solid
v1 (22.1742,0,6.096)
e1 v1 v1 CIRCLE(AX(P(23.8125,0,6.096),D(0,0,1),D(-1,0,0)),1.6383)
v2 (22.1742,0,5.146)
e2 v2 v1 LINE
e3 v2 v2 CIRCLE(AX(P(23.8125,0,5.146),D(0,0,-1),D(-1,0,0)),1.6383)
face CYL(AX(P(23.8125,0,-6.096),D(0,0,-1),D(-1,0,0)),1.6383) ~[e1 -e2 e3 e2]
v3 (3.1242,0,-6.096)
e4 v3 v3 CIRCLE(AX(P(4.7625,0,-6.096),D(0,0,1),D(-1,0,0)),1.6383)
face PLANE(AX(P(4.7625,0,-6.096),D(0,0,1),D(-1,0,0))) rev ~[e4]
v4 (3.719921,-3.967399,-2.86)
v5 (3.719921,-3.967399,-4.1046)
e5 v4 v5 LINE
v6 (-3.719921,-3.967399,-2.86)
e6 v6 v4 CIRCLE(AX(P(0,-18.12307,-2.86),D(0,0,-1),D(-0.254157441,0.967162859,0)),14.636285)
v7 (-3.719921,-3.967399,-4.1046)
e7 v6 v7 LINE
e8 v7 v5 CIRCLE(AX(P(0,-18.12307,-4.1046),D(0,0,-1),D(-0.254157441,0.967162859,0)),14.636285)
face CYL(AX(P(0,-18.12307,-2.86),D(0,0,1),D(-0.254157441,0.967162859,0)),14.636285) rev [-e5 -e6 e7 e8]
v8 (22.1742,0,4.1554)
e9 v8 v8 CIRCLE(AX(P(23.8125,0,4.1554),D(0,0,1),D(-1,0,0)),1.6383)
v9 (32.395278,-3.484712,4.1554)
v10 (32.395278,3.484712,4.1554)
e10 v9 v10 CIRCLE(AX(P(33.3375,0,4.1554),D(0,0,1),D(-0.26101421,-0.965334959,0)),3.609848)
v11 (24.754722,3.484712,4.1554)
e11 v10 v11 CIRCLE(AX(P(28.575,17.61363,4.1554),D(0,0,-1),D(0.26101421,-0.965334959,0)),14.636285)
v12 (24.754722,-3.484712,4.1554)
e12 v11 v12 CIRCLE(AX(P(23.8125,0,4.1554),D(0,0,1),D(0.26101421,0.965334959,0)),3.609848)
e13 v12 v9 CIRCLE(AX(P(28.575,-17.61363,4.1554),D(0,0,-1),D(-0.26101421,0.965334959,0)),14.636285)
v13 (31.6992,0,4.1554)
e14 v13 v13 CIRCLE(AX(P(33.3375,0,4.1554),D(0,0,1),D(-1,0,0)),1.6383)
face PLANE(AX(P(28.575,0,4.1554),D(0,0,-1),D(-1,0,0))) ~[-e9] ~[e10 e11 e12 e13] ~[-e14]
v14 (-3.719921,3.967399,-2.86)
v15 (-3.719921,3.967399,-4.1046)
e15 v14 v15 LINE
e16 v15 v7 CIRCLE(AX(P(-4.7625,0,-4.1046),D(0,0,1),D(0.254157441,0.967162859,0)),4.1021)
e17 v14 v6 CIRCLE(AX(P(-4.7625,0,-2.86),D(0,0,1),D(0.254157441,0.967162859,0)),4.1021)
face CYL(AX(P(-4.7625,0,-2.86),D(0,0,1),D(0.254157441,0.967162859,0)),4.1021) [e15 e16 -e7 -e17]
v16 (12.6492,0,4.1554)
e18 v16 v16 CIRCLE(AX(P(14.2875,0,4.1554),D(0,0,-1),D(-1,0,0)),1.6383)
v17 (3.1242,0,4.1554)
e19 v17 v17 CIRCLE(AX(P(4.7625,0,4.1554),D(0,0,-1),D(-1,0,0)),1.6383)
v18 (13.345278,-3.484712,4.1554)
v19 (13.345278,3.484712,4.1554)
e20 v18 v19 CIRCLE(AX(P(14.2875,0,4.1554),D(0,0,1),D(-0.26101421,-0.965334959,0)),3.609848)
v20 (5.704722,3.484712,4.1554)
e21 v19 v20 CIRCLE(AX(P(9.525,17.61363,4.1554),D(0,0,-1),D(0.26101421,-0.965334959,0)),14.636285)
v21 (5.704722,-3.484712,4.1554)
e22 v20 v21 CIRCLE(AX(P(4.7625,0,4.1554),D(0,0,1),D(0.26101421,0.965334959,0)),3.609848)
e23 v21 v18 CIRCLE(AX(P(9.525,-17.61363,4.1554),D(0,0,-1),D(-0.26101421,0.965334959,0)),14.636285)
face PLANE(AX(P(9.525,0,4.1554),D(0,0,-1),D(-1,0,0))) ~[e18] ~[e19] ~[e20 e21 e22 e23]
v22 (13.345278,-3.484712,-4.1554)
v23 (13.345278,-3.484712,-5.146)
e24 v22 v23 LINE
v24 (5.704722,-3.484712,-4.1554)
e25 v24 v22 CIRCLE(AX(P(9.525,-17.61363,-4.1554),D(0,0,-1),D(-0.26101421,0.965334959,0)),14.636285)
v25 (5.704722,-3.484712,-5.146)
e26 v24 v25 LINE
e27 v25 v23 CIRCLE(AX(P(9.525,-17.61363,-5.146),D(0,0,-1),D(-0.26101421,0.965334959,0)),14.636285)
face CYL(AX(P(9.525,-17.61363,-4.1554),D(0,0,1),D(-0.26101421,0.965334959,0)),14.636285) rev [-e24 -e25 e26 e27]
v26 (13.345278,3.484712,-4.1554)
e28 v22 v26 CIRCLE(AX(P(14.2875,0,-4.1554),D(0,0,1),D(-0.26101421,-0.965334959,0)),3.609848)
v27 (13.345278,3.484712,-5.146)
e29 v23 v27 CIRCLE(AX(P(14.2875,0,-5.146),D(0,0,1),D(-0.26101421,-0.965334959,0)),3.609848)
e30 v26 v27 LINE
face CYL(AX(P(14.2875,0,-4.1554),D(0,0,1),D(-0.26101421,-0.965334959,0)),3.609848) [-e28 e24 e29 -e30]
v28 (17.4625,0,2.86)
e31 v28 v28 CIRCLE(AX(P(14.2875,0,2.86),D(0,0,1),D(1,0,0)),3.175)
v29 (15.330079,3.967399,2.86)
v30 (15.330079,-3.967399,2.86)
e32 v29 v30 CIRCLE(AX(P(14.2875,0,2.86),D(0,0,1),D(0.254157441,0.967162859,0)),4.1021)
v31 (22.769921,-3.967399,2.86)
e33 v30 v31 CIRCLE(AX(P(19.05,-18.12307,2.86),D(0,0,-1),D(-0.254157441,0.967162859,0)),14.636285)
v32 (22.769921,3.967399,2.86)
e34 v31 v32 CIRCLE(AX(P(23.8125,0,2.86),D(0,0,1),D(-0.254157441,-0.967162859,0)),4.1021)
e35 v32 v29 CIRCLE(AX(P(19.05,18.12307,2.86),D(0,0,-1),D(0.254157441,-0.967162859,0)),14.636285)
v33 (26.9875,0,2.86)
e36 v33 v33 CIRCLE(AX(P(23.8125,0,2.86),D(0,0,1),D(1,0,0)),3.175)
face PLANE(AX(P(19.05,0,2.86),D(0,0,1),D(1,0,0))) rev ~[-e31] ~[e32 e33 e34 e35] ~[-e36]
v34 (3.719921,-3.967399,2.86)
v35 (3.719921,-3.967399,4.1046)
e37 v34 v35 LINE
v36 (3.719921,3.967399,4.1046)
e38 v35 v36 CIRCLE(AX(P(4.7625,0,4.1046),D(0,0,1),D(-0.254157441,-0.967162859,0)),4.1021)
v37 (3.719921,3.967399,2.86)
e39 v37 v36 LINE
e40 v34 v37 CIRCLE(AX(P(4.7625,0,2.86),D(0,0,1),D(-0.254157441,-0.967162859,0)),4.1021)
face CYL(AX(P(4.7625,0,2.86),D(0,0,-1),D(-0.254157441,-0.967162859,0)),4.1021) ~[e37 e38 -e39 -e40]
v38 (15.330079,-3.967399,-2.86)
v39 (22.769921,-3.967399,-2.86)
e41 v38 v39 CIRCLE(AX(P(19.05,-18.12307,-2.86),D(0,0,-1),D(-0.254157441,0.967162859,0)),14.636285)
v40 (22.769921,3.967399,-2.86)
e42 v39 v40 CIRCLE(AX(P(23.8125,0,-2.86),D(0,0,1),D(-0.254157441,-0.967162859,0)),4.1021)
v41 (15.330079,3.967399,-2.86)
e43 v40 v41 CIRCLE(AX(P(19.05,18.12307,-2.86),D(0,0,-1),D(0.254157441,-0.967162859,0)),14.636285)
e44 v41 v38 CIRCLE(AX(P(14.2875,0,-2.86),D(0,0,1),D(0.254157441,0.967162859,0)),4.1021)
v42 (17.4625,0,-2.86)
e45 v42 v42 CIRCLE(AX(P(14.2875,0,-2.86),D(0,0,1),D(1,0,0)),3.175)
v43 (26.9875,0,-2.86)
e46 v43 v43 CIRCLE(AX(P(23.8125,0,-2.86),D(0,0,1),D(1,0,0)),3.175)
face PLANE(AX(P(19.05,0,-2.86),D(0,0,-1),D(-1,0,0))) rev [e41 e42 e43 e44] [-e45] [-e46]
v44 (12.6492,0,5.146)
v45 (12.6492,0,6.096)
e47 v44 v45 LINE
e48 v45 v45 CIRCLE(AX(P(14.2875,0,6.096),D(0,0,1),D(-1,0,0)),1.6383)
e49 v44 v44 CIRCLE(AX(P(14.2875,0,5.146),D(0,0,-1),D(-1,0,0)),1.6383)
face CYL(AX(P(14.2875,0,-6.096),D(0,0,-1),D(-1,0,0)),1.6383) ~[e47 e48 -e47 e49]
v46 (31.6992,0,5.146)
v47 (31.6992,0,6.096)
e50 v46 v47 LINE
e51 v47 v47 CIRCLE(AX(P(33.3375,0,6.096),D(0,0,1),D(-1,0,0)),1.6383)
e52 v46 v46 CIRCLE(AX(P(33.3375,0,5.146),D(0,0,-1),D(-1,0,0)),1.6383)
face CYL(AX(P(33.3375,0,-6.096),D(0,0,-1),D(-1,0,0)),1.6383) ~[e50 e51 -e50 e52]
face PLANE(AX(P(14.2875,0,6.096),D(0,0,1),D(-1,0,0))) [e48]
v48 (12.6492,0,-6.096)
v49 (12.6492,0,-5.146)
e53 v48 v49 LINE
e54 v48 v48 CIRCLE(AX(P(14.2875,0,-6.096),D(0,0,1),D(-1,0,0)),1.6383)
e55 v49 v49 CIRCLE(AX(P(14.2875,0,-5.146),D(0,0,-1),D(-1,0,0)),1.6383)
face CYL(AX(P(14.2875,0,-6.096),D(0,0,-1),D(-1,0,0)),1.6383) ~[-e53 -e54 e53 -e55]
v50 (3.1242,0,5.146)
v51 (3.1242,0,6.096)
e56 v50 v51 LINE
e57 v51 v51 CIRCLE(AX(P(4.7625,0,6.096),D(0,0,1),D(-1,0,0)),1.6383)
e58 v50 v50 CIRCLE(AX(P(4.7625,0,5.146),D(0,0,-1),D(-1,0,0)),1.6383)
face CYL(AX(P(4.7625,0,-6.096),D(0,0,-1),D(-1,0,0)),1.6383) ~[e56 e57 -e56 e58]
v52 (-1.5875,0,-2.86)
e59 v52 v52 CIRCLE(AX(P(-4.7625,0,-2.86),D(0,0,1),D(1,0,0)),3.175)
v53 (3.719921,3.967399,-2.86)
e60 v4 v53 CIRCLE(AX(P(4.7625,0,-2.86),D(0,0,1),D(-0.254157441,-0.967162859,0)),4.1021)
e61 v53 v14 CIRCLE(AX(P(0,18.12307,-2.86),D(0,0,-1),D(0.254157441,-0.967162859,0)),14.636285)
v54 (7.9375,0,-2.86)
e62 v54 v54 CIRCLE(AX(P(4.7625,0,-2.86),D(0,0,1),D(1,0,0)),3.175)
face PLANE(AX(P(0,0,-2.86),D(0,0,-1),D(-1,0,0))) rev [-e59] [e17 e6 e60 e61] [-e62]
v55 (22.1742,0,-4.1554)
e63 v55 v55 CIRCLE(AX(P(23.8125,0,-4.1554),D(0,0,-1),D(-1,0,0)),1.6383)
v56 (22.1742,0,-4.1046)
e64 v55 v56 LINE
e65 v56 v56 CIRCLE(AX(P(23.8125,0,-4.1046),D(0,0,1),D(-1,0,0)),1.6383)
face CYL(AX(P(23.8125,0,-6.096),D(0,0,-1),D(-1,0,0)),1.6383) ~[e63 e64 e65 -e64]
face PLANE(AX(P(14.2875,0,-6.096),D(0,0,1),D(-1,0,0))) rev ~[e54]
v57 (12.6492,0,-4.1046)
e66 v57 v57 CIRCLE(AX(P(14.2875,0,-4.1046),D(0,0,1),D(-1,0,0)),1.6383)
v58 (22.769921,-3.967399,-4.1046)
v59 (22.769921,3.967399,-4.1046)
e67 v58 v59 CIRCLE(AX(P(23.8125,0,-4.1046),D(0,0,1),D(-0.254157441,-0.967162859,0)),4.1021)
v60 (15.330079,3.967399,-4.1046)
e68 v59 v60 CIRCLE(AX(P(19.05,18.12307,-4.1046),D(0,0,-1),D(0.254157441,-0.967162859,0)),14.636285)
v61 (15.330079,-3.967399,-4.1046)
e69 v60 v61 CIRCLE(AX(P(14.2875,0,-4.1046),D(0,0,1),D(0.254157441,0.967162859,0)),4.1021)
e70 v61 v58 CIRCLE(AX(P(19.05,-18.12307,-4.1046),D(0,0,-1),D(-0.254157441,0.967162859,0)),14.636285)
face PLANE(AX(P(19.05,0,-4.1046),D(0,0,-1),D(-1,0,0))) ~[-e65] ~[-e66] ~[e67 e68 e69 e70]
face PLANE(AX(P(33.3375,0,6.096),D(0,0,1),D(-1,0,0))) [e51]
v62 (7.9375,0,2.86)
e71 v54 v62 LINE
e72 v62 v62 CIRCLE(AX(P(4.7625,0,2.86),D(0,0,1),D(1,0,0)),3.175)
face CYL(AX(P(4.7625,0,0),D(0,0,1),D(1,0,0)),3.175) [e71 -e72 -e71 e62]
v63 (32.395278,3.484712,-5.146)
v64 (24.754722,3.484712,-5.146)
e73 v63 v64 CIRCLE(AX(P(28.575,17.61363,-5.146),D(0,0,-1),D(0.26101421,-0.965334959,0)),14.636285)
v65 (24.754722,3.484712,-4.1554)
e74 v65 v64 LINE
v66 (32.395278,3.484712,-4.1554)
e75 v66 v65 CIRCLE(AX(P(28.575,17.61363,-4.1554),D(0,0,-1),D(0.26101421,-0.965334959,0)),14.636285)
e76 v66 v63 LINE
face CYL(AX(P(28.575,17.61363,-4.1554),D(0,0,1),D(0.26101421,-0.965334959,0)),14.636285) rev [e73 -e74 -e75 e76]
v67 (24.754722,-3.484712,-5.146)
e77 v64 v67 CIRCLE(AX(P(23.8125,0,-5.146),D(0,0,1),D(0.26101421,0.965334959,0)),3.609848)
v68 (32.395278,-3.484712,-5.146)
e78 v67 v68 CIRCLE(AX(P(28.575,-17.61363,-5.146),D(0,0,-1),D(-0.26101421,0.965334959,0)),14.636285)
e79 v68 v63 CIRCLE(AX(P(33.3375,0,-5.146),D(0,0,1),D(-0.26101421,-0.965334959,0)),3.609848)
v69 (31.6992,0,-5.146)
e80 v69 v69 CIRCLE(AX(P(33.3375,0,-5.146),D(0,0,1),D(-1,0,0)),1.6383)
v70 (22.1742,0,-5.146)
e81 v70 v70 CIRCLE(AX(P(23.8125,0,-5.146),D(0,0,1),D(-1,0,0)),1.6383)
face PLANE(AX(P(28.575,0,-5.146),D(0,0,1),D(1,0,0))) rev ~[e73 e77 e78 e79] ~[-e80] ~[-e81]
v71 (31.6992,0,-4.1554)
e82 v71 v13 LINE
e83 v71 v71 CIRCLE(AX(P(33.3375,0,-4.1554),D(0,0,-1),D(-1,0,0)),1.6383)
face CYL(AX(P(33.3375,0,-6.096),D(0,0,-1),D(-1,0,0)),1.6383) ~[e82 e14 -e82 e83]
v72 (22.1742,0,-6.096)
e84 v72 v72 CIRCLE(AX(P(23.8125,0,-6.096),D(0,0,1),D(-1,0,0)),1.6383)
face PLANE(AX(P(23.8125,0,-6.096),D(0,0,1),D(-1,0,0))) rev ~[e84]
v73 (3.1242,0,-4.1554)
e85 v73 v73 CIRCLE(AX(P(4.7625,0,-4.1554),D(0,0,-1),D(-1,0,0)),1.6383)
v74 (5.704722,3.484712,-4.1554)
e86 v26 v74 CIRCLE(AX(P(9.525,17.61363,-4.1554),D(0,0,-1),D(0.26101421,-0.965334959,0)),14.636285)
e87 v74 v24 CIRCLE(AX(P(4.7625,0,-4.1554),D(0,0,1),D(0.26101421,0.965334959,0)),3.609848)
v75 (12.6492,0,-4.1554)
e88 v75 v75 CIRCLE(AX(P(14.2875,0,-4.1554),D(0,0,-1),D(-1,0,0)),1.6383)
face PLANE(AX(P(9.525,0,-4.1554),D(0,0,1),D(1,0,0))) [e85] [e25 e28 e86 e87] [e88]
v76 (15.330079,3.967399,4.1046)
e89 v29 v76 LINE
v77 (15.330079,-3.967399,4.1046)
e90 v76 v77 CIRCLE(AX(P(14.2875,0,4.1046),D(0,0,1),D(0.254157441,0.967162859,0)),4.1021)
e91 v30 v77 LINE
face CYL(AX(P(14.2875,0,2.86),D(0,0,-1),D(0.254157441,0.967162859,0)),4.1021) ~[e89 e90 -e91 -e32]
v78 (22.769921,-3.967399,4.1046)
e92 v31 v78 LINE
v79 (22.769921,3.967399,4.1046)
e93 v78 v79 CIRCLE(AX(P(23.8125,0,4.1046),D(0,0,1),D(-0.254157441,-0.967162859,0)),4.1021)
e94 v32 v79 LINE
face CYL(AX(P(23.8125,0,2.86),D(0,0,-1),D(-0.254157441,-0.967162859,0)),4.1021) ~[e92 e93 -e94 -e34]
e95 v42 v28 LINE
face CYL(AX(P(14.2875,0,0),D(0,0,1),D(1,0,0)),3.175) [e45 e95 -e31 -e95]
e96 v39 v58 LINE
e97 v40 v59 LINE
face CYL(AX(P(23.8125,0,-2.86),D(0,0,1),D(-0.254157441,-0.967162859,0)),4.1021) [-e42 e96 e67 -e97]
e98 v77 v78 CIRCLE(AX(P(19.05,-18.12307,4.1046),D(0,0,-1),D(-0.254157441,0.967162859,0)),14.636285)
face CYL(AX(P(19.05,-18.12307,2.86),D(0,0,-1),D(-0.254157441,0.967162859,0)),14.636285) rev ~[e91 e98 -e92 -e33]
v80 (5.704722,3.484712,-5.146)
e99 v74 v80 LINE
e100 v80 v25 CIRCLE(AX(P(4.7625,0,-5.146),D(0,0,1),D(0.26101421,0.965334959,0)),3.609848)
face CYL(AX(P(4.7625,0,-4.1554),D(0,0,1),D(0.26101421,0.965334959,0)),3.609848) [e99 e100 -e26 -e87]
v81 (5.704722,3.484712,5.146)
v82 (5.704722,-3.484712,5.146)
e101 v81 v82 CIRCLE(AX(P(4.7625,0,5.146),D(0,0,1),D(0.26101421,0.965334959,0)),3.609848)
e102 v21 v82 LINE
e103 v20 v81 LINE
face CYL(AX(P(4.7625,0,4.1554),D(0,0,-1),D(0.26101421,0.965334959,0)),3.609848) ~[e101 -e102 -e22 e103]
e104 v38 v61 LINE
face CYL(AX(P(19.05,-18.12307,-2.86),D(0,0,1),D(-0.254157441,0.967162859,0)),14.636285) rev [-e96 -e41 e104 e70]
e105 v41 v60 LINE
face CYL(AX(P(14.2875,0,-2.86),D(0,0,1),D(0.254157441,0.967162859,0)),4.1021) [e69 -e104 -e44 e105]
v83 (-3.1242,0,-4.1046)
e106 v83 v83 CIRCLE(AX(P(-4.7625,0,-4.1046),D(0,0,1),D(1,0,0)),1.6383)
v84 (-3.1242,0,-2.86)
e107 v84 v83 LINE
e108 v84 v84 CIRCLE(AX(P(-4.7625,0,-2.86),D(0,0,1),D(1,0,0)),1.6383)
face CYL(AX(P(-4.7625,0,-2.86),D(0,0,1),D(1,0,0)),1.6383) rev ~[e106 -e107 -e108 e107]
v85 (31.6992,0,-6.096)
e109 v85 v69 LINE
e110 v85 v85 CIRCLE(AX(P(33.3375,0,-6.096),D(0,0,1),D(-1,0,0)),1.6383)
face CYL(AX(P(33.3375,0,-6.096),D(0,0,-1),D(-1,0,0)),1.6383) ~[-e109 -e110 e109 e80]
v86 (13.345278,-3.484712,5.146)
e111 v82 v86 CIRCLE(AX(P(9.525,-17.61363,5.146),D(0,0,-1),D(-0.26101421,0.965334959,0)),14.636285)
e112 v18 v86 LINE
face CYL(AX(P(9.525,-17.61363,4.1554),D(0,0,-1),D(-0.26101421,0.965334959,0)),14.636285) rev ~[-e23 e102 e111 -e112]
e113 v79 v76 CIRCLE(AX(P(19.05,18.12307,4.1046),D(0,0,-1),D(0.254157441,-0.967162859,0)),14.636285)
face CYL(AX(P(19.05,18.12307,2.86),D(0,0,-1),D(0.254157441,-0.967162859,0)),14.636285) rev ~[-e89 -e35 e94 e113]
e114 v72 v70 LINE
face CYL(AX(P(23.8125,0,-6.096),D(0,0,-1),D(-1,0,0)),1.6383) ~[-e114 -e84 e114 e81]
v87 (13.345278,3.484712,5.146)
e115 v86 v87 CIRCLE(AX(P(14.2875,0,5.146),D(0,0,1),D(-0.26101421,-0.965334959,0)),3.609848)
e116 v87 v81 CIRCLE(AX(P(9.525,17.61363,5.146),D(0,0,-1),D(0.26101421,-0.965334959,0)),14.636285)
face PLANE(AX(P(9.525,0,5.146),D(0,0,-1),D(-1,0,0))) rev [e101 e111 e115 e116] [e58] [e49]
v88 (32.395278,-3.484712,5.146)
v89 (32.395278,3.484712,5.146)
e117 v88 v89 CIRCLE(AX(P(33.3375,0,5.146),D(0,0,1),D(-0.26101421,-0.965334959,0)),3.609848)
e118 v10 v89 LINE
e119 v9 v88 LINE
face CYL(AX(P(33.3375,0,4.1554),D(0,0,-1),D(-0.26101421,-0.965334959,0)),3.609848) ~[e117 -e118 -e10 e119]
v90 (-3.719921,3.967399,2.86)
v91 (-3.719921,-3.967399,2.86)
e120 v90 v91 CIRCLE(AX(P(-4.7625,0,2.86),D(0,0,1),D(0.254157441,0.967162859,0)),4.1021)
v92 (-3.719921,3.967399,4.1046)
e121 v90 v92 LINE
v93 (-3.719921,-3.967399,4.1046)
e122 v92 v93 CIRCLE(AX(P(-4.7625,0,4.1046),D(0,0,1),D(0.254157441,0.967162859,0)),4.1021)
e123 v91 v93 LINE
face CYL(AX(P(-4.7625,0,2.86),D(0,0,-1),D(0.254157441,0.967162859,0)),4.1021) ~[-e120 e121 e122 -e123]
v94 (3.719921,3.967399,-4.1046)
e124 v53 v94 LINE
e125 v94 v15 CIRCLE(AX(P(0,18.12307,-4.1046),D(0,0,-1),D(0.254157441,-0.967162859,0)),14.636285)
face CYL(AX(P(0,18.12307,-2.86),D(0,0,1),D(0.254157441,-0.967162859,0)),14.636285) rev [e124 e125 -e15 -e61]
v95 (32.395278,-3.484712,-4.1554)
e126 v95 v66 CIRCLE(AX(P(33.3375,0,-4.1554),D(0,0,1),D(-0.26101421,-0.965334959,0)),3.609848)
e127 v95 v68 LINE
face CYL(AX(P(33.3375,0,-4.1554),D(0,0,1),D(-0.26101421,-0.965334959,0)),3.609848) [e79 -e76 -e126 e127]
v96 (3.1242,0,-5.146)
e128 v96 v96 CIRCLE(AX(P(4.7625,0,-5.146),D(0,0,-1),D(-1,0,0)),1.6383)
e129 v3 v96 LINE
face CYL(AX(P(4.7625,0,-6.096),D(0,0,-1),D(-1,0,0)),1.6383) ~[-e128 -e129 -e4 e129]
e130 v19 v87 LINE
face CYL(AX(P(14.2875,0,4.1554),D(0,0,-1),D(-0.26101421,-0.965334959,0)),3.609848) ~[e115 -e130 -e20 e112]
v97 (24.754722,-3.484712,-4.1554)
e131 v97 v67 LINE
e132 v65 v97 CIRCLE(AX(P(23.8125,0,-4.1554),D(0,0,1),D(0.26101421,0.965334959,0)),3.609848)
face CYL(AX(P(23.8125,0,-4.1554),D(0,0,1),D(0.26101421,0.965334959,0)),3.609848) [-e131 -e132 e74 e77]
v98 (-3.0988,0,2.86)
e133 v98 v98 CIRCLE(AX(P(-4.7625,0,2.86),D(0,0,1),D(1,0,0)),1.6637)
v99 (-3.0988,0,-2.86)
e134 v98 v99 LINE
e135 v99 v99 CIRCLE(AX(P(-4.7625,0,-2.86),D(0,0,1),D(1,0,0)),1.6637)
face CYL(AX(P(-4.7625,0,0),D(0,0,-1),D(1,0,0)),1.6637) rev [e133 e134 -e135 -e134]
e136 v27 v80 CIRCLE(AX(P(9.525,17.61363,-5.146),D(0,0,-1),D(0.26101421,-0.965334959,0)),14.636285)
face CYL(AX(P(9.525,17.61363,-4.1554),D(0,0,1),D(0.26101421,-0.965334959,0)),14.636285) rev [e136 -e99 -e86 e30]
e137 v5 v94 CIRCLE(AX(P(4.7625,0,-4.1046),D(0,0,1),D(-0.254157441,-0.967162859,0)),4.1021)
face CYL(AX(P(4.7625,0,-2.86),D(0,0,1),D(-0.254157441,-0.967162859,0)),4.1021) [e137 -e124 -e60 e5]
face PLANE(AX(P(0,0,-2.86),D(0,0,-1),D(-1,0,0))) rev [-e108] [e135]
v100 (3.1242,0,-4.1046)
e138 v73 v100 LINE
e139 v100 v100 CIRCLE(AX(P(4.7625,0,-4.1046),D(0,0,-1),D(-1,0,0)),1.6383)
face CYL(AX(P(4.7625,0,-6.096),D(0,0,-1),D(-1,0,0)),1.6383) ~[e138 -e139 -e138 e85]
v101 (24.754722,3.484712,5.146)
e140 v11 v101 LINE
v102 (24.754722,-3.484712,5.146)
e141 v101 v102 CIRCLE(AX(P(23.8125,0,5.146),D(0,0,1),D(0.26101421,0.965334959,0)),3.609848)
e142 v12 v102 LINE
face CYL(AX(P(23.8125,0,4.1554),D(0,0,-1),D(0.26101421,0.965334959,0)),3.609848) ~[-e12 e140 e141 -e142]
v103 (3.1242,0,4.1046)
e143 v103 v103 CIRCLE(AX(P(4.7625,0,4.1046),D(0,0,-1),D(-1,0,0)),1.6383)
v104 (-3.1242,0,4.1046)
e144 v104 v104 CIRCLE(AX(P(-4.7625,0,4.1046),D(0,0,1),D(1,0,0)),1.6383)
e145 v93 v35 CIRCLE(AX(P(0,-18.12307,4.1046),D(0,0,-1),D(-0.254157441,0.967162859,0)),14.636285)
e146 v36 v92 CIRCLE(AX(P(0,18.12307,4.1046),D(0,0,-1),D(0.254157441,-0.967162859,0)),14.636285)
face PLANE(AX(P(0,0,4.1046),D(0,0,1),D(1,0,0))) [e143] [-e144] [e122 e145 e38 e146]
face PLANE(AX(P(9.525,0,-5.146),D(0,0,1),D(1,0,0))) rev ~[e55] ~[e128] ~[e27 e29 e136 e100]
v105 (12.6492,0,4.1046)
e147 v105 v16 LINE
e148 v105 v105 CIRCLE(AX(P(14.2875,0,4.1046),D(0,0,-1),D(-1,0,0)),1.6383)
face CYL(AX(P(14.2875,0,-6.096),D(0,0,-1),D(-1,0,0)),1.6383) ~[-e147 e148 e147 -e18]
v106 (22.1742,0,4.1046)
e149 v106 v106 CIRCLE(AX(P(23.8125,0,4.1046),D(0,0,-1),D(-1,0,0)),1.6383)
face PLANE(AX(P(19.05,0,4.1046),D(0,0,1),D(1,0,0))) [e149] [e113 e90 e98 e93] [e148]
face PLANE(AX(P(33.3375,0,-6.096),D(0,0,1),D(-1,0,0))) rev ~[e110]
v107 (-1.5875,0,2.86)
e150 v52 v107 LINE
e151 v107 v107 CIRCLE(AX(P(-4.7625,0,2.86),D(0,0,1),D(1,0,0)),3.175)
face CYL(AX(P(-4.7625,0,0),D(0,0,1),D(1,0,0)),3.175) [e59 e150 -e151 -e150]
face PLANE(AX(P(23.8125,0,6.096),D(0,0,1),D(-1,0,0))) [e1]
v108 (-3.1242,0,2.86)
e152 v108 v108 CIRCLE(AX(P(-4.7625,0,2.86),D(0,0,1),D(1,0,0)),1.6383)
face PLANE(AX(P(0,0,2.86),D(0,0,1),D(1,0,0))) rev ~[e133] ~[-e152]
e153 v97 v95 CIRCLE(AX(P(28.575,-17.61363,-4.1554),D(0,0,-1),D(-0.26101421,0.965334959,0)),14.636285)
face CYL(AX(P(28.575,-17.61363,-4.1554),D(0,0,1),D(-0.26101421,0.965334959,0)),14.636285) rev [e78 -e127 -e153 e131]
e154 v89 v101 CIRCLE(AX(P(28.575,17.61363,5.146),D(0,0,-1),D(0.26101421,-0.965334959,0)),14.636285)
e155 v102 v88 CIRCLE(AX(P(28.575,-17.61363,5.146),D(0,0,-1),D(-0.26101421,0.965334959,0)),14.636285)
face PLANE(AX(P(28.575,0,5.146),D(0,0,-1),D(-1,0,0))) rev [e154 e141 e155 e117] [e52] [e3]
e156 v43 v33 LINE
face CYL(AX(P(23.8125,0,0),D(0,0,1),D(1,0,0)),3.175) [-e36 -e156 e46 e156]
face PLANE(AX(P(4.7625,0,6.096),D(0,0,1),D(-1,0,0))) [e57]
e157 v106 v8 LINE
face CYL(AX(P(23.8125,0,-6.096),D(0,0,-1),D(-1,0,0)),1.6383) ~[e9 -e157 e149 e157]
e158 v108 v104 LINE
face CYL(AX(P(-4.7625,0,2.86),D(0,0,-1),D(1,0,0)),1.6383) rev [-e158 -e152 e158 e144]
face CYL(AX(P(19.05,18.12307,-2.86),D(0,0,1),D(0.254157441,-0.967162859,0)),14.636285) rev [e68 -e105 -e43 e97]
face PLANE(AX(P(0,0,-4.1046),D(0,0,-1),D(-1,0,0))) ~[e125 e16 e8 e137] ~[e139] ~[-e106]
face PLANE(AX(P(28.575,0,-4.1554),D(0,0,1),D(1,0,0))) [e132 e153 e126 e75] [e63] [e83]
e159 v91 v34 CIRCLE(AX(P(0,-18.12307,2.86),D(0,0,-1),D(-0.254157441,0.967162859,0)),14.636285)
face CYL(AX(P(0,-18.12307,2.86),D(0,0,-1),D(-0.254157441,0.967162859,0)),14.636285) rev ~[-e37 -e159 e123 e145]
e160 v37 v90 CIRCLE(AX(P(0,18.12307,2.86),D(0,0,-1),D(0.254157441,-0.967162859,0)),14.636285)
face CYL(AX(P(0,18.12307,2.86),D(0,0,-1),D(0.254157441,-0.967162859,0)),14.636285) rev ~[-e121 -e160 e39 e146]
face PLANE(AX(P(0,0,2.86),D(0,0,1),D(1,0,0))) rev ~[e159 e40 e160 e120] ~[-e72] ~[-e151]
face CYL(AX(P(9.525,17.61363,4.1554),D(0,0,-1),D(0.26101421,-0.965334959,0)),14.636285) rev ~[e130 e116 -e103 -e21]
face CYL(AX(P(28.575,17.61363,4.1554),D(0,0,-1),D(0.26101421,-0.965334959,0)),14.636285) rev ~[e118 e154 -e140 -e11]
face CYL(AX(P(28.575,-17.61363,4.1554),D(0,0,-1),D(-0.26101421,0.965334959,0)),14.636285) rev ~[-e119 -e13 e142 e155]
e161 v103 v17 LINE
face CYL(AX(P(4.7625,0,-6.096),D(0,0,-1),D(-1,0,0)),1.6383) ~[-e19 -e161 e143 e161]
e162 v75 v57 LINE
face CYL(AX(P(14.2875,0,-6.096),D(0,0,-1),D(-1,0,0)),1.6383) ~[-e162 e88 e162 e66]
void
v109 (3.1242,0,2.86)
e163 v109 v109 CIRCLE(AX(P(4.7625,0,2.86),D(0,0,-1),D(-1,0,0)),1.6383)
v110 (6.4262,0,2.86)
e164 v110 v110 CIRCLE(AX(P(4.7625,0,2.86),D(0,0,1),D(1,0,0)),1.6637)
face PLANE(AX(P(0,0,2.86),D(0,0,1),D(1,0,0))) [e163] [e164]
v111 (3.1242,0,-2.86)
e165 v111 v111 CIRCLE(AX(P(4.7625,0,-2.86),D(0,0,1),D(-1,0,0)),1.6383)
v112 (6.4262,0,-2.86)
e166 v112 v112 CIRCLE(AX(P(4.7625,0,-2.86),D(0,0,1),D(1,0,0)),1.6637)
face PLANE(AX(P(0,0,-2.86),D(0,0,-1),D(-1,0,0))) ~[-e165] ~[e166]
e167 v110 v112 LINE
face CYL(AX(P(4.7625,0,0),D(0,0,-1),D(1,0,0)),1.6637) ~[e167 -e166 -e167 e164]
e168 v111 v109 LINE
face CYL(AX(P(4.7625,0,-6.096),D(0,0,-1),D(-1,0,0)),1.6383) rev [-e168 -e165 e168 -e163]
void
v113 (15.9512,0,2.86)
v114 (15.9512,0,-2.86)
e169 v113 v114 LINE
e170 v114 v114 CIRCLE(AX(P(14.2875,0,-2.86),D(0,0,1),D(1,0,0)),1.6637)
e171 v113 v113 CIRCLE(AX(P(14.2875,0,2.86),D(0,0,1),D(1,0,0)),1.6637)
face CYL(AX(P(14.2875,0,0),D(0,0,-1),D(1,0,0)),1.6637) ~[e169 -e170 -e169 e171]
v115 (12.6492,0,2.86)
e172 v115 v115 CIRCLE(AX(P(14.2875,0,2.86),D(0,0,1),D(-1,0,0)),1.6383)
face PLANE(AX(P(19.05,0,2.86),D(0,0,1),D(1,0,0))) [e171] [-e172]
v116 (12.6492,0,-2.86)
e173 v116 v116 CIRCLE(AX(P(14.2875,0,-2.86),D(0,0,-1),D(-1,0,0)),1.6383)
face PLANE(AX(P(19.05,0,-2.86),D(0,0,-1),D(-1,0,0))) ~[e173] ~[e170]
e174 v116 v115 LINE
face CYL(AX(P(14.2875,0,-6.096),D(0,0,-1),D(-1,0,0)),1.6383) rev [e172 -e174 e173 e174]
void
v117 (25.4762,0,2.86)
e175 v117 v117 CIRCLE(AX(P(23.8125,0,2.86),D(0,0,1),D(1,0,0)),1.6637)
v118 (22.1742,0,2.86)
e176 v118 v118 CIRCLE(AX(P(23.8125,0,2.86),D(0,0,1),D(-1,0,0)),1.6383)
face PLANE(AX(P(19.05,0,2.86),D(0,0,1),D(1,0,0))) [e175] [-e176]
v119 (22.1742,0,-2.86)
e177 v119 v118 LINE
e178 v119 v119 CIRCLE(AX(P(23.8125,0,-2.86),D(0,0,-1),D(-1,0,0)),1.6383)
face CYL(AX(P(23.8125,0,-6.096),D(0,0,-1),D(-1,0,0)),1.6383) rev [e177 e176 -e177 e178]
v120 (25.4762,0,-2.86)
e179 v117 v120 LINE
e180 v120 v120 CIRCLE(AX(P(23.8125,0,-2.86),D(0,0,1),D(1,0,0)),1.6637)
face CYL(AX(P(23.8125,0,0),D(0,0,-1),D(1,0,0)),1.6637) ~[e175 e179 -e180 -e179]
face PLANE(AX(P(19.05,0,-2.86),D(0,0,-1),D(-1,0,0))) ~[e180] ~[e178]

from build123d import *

# Parameters (mm, degrees)
SKETCH4_R                  = 3.175
SKETCH4_R_2                = 1.6637
BOSS_EXTRUDE1_DEPTH        = 2.86
BOSS_EXTRUDE1_2_DEPTH      = 2.86
SKETCH5_R                  = 1.6383
BOSS_EXTRUDE2_DEPTH        = 1.2446
LPATTERN1_COUNT            = 2
LPATTERN1_PITCH            = 9.525
SKETCH7_R                  = 1.6383
BOSS_EXTRUDE3_DEPTH        = 0.9906
BOSS_EXTRUDE4_DEPTH        = 6.096
BOSS_EXTRUDE4_DEPTH_BACK   = 6.096
SKETCH8_R                  = 1.6383
BOSS_EXTRUDE4_2_DEPTH      = 6.096
BOSS_EXTRUDE4_2_DEPTH_BACK = 6.096
LPATTERN2_COUNT            = 2
LPATTERN2_PITCH            = 19.05


with BuildPart() as part:
    # Sketch4 → Boss-Extrude1 (new, symmetric)
    with BuildSketch(Plane.XY):
        with Locations((-4.7625, 0)):
            Circle(SKETCH4_R)
        with Locations((-4.7625, 0)):
            Circle(SKETCH4_R_2, mode=Mode.SUBTRACT)
    extrude(amount=BOSS_EXTRUDE1_DEPTH, both=True)


with BuildPart() as body_2:
    # Sketch4 → Boss-Extrude1 2 (new, symmetric)
    with BuildSketch(Plane.XY):
        with Locations((4.7625, 0)):
            Circle(SKETCH4_R)
        with Locations((4.7625, 0)):
            Circle(SKETCH4_R_2, mode=Mode.SUBTRACT)
    extrude(amount=BOSS_EXTRUDE1_2_DEPTH, both=True)


with BuildPart() as body_3:
    # Sketch5 → Boss-Extrude2 (new body)
    with BuildSketch(Plane.XY.offset(2.86)):
        with BuildLine():
            ThreePointArc((-3.71992076, 3.967398762), (-8.8646, 0), (-3.71992076, -3.967398762))
            ThreePointArc((-3.71992076, -3.967398762), (0, -3.486785), (3.71992076, -3.967398762))
            ThreePointArc((3.71992076, -3.967398762), (8.8646, 0), (3.71992076, 3.967398762))
            ThreePointArc((3.71992076, 3.967398762), (0, 3.486785), (-3.71992076, 3.967398762))
        make_face()
        with Locations((-4.7625, 0)):
            Circle(SKETCH5_R, mode=Mode.SUBTRACT)
        with Locations((4.7625, 0)):
            Circle(SKETCH5_R, mode=Mode.SUBTRACT)
    extrude(amount=BOSS_EXTRUDE2_DEPTH)


with BuildPart() as lpattern1_1:
    # LPattern1: pattern copy
    add(body_2.part.moved(Location(Vector(1, 0, 0) * (1 * LPATTERN1_PITCH))))


with BuildPart() as body_5:
    # Sketch7 → Boss-Extrude3 (new body)
    with BuildSketch(Plane.XY.offset(-4.1554)):
        with BuildLine():
            ThreePointArc((5.704721623, 3.48471247), (1.152652, 0), (5.704721623, -3.48471247))
            ThreePointArc((5.704721623, -3.48471247), (9.525, -2.977345042), (13.345278377, -3.48471247))
            ThreePointArc((13.345278377, -3.48471247), (17.897348, 0), (13.345278377, 3.48471247))
            ThreePointArc((13.345278377, 3.48471247), (9.525, 2.977345042), (5.704721623, 3.48471247))
        make_face()
        with Locations((4.7625, 0)):
            Circle(SKETCH7_R, mode=Mode.SUBTRACT)
        with Locations((14.2875, 0)):
            Circle(SKETCH7_R, mode=Mode.SUBTRACT)
    extrude(amount=-BOSS_EXTRUDE3_DEPTH)


with BuildPart() as body_6:
    # Mirror1: mirrored copy
    add(body_3.part.mirror(Plane.XY))


with BuildPart() as body_7:
    # Mirror1 2: mirrored copy
    add(body_5.part.mirror(Plane.XY))


with BuildPart() as body_8:
    # Sketch8 → Boss-Extrude4 (new, two sides: drawn at the far end of the back side and taken through both)
    with BuildSketch(Plane.XY.offset(-BOSS_EXTRUDE4_DEPTH_BACK)):
        with Locations(Location((4.7625, 0, 0), (0, 0, 180))):
            Circle(SKETCH8_R)
    extrude(amount=BOSS_EXTRUDE4_DEPTH + BOSS_EXTRUDE4_DEPTH_BACK)


with BuildPart() as body_9:
    # Sketch8 → Boss-Extrude4 2 (new, two sides: drawn at the far end of the back side and taken through both)
    with BuildSketch(Plane.XY.offset(-BOSS_EXTRUDE4_2_DEPTH_BACK)):
        with Locations(Location((14.2875, 0, 0), (0, 0, 180))):
            Circle(SKETCH8_R)
    extrude(amount=BOSS_EXTRUDE4_2_DEPTH + BOSS_EXTRUDE4_2_DEPTH_BACK)


with BuildPart() as lpattern2_1:
    # LPattern2: pattern copy
    add(body_9.part.moved(Location(Vector(1, 0, 0) * (1 * LPATTERN2_PITCH))))


with BuildPart() as lpattern2_2:
    # LPattern2: pattern copy
    add(body_8.part.moved(Location(Vector(1, 0, 0) * (1 * LPATTERN2_PITCH))))


with BuildPart() as lpattern2_3:
    # LPattern2: pattern copy
    add(body_7.part.moved(Location(Vector(1, 0, 0) * (1 * LPATTERN2_PITCH))))


with BuildPart() as lpattern2_4:
    # LPattern2: pattern copy
    add(body_6.part.moved(Location(Vector(1, 0, 0) * (1 * LPATTERN2_PITCH))))


with BuildPart() as lpattern2_5:
    # LPattern2: pattern copy
    add(body_5.part.moved(Location(Vector(1, 0, 0) * (1 * LPATTERN2_PITCH))))


with BuildPart() as lpattern2_6:
    # LPattern2: pattern copy
    add(lpattern1_1.part.moved(Location(Vector(1, 0, 0) * (1 * LPATTERN2_PITCH))))


with BuildPart() as lpattern2_7:
    # LPattern2: pattern copy
    add(body_3.part.moved(Location(Vector(1, 0, 0) * (1 * LPATTERN2_PITCH))))


with BuildPart() as lpattern2_8:
    # LPattern2: pattern copy
    add(body_2.part.moved(Location(Vector(1, 0, 0) * (1 * LPATTERN2_PITCH))))


with BuildPart() as lpattern2_9:
    # LPattern2: pattern copy
    add(part.part.moved(Location(Vector(1, 0, 0) * (1 * LPATTERN2_PITCH))))


with BuildPart() as body_2_1:
    add(body_2.part)

    # Combine1: union body 3, LPattern1_1, body 5, body 6, body 7, body 8, body 9, LPattern2_1, LPattern2_2, LPattern2_3, LPattern2_4, LPattern2_5, LPattern2_7, LPattern2_8, LPattern2_9, part
    add(body_3.part)
    add(lpattern1_1.part)
    add(body_5.part)
    add(body_6.part)
    add(body_7.part)
    add(body_8.part)
    add(body_9.part)
    add(lpattern2_1.part)
    add(lpattern2_2.part)
    add(lpattern2_3.part)
    add(lpattern2_4.part)
    add(lpattern2_5.part)
    add(lpattern2_7.part)
    add(lpattern2_8.part)
    add(lpattern2_9.part)
    add(part.part)


solid = body_2_1.part
